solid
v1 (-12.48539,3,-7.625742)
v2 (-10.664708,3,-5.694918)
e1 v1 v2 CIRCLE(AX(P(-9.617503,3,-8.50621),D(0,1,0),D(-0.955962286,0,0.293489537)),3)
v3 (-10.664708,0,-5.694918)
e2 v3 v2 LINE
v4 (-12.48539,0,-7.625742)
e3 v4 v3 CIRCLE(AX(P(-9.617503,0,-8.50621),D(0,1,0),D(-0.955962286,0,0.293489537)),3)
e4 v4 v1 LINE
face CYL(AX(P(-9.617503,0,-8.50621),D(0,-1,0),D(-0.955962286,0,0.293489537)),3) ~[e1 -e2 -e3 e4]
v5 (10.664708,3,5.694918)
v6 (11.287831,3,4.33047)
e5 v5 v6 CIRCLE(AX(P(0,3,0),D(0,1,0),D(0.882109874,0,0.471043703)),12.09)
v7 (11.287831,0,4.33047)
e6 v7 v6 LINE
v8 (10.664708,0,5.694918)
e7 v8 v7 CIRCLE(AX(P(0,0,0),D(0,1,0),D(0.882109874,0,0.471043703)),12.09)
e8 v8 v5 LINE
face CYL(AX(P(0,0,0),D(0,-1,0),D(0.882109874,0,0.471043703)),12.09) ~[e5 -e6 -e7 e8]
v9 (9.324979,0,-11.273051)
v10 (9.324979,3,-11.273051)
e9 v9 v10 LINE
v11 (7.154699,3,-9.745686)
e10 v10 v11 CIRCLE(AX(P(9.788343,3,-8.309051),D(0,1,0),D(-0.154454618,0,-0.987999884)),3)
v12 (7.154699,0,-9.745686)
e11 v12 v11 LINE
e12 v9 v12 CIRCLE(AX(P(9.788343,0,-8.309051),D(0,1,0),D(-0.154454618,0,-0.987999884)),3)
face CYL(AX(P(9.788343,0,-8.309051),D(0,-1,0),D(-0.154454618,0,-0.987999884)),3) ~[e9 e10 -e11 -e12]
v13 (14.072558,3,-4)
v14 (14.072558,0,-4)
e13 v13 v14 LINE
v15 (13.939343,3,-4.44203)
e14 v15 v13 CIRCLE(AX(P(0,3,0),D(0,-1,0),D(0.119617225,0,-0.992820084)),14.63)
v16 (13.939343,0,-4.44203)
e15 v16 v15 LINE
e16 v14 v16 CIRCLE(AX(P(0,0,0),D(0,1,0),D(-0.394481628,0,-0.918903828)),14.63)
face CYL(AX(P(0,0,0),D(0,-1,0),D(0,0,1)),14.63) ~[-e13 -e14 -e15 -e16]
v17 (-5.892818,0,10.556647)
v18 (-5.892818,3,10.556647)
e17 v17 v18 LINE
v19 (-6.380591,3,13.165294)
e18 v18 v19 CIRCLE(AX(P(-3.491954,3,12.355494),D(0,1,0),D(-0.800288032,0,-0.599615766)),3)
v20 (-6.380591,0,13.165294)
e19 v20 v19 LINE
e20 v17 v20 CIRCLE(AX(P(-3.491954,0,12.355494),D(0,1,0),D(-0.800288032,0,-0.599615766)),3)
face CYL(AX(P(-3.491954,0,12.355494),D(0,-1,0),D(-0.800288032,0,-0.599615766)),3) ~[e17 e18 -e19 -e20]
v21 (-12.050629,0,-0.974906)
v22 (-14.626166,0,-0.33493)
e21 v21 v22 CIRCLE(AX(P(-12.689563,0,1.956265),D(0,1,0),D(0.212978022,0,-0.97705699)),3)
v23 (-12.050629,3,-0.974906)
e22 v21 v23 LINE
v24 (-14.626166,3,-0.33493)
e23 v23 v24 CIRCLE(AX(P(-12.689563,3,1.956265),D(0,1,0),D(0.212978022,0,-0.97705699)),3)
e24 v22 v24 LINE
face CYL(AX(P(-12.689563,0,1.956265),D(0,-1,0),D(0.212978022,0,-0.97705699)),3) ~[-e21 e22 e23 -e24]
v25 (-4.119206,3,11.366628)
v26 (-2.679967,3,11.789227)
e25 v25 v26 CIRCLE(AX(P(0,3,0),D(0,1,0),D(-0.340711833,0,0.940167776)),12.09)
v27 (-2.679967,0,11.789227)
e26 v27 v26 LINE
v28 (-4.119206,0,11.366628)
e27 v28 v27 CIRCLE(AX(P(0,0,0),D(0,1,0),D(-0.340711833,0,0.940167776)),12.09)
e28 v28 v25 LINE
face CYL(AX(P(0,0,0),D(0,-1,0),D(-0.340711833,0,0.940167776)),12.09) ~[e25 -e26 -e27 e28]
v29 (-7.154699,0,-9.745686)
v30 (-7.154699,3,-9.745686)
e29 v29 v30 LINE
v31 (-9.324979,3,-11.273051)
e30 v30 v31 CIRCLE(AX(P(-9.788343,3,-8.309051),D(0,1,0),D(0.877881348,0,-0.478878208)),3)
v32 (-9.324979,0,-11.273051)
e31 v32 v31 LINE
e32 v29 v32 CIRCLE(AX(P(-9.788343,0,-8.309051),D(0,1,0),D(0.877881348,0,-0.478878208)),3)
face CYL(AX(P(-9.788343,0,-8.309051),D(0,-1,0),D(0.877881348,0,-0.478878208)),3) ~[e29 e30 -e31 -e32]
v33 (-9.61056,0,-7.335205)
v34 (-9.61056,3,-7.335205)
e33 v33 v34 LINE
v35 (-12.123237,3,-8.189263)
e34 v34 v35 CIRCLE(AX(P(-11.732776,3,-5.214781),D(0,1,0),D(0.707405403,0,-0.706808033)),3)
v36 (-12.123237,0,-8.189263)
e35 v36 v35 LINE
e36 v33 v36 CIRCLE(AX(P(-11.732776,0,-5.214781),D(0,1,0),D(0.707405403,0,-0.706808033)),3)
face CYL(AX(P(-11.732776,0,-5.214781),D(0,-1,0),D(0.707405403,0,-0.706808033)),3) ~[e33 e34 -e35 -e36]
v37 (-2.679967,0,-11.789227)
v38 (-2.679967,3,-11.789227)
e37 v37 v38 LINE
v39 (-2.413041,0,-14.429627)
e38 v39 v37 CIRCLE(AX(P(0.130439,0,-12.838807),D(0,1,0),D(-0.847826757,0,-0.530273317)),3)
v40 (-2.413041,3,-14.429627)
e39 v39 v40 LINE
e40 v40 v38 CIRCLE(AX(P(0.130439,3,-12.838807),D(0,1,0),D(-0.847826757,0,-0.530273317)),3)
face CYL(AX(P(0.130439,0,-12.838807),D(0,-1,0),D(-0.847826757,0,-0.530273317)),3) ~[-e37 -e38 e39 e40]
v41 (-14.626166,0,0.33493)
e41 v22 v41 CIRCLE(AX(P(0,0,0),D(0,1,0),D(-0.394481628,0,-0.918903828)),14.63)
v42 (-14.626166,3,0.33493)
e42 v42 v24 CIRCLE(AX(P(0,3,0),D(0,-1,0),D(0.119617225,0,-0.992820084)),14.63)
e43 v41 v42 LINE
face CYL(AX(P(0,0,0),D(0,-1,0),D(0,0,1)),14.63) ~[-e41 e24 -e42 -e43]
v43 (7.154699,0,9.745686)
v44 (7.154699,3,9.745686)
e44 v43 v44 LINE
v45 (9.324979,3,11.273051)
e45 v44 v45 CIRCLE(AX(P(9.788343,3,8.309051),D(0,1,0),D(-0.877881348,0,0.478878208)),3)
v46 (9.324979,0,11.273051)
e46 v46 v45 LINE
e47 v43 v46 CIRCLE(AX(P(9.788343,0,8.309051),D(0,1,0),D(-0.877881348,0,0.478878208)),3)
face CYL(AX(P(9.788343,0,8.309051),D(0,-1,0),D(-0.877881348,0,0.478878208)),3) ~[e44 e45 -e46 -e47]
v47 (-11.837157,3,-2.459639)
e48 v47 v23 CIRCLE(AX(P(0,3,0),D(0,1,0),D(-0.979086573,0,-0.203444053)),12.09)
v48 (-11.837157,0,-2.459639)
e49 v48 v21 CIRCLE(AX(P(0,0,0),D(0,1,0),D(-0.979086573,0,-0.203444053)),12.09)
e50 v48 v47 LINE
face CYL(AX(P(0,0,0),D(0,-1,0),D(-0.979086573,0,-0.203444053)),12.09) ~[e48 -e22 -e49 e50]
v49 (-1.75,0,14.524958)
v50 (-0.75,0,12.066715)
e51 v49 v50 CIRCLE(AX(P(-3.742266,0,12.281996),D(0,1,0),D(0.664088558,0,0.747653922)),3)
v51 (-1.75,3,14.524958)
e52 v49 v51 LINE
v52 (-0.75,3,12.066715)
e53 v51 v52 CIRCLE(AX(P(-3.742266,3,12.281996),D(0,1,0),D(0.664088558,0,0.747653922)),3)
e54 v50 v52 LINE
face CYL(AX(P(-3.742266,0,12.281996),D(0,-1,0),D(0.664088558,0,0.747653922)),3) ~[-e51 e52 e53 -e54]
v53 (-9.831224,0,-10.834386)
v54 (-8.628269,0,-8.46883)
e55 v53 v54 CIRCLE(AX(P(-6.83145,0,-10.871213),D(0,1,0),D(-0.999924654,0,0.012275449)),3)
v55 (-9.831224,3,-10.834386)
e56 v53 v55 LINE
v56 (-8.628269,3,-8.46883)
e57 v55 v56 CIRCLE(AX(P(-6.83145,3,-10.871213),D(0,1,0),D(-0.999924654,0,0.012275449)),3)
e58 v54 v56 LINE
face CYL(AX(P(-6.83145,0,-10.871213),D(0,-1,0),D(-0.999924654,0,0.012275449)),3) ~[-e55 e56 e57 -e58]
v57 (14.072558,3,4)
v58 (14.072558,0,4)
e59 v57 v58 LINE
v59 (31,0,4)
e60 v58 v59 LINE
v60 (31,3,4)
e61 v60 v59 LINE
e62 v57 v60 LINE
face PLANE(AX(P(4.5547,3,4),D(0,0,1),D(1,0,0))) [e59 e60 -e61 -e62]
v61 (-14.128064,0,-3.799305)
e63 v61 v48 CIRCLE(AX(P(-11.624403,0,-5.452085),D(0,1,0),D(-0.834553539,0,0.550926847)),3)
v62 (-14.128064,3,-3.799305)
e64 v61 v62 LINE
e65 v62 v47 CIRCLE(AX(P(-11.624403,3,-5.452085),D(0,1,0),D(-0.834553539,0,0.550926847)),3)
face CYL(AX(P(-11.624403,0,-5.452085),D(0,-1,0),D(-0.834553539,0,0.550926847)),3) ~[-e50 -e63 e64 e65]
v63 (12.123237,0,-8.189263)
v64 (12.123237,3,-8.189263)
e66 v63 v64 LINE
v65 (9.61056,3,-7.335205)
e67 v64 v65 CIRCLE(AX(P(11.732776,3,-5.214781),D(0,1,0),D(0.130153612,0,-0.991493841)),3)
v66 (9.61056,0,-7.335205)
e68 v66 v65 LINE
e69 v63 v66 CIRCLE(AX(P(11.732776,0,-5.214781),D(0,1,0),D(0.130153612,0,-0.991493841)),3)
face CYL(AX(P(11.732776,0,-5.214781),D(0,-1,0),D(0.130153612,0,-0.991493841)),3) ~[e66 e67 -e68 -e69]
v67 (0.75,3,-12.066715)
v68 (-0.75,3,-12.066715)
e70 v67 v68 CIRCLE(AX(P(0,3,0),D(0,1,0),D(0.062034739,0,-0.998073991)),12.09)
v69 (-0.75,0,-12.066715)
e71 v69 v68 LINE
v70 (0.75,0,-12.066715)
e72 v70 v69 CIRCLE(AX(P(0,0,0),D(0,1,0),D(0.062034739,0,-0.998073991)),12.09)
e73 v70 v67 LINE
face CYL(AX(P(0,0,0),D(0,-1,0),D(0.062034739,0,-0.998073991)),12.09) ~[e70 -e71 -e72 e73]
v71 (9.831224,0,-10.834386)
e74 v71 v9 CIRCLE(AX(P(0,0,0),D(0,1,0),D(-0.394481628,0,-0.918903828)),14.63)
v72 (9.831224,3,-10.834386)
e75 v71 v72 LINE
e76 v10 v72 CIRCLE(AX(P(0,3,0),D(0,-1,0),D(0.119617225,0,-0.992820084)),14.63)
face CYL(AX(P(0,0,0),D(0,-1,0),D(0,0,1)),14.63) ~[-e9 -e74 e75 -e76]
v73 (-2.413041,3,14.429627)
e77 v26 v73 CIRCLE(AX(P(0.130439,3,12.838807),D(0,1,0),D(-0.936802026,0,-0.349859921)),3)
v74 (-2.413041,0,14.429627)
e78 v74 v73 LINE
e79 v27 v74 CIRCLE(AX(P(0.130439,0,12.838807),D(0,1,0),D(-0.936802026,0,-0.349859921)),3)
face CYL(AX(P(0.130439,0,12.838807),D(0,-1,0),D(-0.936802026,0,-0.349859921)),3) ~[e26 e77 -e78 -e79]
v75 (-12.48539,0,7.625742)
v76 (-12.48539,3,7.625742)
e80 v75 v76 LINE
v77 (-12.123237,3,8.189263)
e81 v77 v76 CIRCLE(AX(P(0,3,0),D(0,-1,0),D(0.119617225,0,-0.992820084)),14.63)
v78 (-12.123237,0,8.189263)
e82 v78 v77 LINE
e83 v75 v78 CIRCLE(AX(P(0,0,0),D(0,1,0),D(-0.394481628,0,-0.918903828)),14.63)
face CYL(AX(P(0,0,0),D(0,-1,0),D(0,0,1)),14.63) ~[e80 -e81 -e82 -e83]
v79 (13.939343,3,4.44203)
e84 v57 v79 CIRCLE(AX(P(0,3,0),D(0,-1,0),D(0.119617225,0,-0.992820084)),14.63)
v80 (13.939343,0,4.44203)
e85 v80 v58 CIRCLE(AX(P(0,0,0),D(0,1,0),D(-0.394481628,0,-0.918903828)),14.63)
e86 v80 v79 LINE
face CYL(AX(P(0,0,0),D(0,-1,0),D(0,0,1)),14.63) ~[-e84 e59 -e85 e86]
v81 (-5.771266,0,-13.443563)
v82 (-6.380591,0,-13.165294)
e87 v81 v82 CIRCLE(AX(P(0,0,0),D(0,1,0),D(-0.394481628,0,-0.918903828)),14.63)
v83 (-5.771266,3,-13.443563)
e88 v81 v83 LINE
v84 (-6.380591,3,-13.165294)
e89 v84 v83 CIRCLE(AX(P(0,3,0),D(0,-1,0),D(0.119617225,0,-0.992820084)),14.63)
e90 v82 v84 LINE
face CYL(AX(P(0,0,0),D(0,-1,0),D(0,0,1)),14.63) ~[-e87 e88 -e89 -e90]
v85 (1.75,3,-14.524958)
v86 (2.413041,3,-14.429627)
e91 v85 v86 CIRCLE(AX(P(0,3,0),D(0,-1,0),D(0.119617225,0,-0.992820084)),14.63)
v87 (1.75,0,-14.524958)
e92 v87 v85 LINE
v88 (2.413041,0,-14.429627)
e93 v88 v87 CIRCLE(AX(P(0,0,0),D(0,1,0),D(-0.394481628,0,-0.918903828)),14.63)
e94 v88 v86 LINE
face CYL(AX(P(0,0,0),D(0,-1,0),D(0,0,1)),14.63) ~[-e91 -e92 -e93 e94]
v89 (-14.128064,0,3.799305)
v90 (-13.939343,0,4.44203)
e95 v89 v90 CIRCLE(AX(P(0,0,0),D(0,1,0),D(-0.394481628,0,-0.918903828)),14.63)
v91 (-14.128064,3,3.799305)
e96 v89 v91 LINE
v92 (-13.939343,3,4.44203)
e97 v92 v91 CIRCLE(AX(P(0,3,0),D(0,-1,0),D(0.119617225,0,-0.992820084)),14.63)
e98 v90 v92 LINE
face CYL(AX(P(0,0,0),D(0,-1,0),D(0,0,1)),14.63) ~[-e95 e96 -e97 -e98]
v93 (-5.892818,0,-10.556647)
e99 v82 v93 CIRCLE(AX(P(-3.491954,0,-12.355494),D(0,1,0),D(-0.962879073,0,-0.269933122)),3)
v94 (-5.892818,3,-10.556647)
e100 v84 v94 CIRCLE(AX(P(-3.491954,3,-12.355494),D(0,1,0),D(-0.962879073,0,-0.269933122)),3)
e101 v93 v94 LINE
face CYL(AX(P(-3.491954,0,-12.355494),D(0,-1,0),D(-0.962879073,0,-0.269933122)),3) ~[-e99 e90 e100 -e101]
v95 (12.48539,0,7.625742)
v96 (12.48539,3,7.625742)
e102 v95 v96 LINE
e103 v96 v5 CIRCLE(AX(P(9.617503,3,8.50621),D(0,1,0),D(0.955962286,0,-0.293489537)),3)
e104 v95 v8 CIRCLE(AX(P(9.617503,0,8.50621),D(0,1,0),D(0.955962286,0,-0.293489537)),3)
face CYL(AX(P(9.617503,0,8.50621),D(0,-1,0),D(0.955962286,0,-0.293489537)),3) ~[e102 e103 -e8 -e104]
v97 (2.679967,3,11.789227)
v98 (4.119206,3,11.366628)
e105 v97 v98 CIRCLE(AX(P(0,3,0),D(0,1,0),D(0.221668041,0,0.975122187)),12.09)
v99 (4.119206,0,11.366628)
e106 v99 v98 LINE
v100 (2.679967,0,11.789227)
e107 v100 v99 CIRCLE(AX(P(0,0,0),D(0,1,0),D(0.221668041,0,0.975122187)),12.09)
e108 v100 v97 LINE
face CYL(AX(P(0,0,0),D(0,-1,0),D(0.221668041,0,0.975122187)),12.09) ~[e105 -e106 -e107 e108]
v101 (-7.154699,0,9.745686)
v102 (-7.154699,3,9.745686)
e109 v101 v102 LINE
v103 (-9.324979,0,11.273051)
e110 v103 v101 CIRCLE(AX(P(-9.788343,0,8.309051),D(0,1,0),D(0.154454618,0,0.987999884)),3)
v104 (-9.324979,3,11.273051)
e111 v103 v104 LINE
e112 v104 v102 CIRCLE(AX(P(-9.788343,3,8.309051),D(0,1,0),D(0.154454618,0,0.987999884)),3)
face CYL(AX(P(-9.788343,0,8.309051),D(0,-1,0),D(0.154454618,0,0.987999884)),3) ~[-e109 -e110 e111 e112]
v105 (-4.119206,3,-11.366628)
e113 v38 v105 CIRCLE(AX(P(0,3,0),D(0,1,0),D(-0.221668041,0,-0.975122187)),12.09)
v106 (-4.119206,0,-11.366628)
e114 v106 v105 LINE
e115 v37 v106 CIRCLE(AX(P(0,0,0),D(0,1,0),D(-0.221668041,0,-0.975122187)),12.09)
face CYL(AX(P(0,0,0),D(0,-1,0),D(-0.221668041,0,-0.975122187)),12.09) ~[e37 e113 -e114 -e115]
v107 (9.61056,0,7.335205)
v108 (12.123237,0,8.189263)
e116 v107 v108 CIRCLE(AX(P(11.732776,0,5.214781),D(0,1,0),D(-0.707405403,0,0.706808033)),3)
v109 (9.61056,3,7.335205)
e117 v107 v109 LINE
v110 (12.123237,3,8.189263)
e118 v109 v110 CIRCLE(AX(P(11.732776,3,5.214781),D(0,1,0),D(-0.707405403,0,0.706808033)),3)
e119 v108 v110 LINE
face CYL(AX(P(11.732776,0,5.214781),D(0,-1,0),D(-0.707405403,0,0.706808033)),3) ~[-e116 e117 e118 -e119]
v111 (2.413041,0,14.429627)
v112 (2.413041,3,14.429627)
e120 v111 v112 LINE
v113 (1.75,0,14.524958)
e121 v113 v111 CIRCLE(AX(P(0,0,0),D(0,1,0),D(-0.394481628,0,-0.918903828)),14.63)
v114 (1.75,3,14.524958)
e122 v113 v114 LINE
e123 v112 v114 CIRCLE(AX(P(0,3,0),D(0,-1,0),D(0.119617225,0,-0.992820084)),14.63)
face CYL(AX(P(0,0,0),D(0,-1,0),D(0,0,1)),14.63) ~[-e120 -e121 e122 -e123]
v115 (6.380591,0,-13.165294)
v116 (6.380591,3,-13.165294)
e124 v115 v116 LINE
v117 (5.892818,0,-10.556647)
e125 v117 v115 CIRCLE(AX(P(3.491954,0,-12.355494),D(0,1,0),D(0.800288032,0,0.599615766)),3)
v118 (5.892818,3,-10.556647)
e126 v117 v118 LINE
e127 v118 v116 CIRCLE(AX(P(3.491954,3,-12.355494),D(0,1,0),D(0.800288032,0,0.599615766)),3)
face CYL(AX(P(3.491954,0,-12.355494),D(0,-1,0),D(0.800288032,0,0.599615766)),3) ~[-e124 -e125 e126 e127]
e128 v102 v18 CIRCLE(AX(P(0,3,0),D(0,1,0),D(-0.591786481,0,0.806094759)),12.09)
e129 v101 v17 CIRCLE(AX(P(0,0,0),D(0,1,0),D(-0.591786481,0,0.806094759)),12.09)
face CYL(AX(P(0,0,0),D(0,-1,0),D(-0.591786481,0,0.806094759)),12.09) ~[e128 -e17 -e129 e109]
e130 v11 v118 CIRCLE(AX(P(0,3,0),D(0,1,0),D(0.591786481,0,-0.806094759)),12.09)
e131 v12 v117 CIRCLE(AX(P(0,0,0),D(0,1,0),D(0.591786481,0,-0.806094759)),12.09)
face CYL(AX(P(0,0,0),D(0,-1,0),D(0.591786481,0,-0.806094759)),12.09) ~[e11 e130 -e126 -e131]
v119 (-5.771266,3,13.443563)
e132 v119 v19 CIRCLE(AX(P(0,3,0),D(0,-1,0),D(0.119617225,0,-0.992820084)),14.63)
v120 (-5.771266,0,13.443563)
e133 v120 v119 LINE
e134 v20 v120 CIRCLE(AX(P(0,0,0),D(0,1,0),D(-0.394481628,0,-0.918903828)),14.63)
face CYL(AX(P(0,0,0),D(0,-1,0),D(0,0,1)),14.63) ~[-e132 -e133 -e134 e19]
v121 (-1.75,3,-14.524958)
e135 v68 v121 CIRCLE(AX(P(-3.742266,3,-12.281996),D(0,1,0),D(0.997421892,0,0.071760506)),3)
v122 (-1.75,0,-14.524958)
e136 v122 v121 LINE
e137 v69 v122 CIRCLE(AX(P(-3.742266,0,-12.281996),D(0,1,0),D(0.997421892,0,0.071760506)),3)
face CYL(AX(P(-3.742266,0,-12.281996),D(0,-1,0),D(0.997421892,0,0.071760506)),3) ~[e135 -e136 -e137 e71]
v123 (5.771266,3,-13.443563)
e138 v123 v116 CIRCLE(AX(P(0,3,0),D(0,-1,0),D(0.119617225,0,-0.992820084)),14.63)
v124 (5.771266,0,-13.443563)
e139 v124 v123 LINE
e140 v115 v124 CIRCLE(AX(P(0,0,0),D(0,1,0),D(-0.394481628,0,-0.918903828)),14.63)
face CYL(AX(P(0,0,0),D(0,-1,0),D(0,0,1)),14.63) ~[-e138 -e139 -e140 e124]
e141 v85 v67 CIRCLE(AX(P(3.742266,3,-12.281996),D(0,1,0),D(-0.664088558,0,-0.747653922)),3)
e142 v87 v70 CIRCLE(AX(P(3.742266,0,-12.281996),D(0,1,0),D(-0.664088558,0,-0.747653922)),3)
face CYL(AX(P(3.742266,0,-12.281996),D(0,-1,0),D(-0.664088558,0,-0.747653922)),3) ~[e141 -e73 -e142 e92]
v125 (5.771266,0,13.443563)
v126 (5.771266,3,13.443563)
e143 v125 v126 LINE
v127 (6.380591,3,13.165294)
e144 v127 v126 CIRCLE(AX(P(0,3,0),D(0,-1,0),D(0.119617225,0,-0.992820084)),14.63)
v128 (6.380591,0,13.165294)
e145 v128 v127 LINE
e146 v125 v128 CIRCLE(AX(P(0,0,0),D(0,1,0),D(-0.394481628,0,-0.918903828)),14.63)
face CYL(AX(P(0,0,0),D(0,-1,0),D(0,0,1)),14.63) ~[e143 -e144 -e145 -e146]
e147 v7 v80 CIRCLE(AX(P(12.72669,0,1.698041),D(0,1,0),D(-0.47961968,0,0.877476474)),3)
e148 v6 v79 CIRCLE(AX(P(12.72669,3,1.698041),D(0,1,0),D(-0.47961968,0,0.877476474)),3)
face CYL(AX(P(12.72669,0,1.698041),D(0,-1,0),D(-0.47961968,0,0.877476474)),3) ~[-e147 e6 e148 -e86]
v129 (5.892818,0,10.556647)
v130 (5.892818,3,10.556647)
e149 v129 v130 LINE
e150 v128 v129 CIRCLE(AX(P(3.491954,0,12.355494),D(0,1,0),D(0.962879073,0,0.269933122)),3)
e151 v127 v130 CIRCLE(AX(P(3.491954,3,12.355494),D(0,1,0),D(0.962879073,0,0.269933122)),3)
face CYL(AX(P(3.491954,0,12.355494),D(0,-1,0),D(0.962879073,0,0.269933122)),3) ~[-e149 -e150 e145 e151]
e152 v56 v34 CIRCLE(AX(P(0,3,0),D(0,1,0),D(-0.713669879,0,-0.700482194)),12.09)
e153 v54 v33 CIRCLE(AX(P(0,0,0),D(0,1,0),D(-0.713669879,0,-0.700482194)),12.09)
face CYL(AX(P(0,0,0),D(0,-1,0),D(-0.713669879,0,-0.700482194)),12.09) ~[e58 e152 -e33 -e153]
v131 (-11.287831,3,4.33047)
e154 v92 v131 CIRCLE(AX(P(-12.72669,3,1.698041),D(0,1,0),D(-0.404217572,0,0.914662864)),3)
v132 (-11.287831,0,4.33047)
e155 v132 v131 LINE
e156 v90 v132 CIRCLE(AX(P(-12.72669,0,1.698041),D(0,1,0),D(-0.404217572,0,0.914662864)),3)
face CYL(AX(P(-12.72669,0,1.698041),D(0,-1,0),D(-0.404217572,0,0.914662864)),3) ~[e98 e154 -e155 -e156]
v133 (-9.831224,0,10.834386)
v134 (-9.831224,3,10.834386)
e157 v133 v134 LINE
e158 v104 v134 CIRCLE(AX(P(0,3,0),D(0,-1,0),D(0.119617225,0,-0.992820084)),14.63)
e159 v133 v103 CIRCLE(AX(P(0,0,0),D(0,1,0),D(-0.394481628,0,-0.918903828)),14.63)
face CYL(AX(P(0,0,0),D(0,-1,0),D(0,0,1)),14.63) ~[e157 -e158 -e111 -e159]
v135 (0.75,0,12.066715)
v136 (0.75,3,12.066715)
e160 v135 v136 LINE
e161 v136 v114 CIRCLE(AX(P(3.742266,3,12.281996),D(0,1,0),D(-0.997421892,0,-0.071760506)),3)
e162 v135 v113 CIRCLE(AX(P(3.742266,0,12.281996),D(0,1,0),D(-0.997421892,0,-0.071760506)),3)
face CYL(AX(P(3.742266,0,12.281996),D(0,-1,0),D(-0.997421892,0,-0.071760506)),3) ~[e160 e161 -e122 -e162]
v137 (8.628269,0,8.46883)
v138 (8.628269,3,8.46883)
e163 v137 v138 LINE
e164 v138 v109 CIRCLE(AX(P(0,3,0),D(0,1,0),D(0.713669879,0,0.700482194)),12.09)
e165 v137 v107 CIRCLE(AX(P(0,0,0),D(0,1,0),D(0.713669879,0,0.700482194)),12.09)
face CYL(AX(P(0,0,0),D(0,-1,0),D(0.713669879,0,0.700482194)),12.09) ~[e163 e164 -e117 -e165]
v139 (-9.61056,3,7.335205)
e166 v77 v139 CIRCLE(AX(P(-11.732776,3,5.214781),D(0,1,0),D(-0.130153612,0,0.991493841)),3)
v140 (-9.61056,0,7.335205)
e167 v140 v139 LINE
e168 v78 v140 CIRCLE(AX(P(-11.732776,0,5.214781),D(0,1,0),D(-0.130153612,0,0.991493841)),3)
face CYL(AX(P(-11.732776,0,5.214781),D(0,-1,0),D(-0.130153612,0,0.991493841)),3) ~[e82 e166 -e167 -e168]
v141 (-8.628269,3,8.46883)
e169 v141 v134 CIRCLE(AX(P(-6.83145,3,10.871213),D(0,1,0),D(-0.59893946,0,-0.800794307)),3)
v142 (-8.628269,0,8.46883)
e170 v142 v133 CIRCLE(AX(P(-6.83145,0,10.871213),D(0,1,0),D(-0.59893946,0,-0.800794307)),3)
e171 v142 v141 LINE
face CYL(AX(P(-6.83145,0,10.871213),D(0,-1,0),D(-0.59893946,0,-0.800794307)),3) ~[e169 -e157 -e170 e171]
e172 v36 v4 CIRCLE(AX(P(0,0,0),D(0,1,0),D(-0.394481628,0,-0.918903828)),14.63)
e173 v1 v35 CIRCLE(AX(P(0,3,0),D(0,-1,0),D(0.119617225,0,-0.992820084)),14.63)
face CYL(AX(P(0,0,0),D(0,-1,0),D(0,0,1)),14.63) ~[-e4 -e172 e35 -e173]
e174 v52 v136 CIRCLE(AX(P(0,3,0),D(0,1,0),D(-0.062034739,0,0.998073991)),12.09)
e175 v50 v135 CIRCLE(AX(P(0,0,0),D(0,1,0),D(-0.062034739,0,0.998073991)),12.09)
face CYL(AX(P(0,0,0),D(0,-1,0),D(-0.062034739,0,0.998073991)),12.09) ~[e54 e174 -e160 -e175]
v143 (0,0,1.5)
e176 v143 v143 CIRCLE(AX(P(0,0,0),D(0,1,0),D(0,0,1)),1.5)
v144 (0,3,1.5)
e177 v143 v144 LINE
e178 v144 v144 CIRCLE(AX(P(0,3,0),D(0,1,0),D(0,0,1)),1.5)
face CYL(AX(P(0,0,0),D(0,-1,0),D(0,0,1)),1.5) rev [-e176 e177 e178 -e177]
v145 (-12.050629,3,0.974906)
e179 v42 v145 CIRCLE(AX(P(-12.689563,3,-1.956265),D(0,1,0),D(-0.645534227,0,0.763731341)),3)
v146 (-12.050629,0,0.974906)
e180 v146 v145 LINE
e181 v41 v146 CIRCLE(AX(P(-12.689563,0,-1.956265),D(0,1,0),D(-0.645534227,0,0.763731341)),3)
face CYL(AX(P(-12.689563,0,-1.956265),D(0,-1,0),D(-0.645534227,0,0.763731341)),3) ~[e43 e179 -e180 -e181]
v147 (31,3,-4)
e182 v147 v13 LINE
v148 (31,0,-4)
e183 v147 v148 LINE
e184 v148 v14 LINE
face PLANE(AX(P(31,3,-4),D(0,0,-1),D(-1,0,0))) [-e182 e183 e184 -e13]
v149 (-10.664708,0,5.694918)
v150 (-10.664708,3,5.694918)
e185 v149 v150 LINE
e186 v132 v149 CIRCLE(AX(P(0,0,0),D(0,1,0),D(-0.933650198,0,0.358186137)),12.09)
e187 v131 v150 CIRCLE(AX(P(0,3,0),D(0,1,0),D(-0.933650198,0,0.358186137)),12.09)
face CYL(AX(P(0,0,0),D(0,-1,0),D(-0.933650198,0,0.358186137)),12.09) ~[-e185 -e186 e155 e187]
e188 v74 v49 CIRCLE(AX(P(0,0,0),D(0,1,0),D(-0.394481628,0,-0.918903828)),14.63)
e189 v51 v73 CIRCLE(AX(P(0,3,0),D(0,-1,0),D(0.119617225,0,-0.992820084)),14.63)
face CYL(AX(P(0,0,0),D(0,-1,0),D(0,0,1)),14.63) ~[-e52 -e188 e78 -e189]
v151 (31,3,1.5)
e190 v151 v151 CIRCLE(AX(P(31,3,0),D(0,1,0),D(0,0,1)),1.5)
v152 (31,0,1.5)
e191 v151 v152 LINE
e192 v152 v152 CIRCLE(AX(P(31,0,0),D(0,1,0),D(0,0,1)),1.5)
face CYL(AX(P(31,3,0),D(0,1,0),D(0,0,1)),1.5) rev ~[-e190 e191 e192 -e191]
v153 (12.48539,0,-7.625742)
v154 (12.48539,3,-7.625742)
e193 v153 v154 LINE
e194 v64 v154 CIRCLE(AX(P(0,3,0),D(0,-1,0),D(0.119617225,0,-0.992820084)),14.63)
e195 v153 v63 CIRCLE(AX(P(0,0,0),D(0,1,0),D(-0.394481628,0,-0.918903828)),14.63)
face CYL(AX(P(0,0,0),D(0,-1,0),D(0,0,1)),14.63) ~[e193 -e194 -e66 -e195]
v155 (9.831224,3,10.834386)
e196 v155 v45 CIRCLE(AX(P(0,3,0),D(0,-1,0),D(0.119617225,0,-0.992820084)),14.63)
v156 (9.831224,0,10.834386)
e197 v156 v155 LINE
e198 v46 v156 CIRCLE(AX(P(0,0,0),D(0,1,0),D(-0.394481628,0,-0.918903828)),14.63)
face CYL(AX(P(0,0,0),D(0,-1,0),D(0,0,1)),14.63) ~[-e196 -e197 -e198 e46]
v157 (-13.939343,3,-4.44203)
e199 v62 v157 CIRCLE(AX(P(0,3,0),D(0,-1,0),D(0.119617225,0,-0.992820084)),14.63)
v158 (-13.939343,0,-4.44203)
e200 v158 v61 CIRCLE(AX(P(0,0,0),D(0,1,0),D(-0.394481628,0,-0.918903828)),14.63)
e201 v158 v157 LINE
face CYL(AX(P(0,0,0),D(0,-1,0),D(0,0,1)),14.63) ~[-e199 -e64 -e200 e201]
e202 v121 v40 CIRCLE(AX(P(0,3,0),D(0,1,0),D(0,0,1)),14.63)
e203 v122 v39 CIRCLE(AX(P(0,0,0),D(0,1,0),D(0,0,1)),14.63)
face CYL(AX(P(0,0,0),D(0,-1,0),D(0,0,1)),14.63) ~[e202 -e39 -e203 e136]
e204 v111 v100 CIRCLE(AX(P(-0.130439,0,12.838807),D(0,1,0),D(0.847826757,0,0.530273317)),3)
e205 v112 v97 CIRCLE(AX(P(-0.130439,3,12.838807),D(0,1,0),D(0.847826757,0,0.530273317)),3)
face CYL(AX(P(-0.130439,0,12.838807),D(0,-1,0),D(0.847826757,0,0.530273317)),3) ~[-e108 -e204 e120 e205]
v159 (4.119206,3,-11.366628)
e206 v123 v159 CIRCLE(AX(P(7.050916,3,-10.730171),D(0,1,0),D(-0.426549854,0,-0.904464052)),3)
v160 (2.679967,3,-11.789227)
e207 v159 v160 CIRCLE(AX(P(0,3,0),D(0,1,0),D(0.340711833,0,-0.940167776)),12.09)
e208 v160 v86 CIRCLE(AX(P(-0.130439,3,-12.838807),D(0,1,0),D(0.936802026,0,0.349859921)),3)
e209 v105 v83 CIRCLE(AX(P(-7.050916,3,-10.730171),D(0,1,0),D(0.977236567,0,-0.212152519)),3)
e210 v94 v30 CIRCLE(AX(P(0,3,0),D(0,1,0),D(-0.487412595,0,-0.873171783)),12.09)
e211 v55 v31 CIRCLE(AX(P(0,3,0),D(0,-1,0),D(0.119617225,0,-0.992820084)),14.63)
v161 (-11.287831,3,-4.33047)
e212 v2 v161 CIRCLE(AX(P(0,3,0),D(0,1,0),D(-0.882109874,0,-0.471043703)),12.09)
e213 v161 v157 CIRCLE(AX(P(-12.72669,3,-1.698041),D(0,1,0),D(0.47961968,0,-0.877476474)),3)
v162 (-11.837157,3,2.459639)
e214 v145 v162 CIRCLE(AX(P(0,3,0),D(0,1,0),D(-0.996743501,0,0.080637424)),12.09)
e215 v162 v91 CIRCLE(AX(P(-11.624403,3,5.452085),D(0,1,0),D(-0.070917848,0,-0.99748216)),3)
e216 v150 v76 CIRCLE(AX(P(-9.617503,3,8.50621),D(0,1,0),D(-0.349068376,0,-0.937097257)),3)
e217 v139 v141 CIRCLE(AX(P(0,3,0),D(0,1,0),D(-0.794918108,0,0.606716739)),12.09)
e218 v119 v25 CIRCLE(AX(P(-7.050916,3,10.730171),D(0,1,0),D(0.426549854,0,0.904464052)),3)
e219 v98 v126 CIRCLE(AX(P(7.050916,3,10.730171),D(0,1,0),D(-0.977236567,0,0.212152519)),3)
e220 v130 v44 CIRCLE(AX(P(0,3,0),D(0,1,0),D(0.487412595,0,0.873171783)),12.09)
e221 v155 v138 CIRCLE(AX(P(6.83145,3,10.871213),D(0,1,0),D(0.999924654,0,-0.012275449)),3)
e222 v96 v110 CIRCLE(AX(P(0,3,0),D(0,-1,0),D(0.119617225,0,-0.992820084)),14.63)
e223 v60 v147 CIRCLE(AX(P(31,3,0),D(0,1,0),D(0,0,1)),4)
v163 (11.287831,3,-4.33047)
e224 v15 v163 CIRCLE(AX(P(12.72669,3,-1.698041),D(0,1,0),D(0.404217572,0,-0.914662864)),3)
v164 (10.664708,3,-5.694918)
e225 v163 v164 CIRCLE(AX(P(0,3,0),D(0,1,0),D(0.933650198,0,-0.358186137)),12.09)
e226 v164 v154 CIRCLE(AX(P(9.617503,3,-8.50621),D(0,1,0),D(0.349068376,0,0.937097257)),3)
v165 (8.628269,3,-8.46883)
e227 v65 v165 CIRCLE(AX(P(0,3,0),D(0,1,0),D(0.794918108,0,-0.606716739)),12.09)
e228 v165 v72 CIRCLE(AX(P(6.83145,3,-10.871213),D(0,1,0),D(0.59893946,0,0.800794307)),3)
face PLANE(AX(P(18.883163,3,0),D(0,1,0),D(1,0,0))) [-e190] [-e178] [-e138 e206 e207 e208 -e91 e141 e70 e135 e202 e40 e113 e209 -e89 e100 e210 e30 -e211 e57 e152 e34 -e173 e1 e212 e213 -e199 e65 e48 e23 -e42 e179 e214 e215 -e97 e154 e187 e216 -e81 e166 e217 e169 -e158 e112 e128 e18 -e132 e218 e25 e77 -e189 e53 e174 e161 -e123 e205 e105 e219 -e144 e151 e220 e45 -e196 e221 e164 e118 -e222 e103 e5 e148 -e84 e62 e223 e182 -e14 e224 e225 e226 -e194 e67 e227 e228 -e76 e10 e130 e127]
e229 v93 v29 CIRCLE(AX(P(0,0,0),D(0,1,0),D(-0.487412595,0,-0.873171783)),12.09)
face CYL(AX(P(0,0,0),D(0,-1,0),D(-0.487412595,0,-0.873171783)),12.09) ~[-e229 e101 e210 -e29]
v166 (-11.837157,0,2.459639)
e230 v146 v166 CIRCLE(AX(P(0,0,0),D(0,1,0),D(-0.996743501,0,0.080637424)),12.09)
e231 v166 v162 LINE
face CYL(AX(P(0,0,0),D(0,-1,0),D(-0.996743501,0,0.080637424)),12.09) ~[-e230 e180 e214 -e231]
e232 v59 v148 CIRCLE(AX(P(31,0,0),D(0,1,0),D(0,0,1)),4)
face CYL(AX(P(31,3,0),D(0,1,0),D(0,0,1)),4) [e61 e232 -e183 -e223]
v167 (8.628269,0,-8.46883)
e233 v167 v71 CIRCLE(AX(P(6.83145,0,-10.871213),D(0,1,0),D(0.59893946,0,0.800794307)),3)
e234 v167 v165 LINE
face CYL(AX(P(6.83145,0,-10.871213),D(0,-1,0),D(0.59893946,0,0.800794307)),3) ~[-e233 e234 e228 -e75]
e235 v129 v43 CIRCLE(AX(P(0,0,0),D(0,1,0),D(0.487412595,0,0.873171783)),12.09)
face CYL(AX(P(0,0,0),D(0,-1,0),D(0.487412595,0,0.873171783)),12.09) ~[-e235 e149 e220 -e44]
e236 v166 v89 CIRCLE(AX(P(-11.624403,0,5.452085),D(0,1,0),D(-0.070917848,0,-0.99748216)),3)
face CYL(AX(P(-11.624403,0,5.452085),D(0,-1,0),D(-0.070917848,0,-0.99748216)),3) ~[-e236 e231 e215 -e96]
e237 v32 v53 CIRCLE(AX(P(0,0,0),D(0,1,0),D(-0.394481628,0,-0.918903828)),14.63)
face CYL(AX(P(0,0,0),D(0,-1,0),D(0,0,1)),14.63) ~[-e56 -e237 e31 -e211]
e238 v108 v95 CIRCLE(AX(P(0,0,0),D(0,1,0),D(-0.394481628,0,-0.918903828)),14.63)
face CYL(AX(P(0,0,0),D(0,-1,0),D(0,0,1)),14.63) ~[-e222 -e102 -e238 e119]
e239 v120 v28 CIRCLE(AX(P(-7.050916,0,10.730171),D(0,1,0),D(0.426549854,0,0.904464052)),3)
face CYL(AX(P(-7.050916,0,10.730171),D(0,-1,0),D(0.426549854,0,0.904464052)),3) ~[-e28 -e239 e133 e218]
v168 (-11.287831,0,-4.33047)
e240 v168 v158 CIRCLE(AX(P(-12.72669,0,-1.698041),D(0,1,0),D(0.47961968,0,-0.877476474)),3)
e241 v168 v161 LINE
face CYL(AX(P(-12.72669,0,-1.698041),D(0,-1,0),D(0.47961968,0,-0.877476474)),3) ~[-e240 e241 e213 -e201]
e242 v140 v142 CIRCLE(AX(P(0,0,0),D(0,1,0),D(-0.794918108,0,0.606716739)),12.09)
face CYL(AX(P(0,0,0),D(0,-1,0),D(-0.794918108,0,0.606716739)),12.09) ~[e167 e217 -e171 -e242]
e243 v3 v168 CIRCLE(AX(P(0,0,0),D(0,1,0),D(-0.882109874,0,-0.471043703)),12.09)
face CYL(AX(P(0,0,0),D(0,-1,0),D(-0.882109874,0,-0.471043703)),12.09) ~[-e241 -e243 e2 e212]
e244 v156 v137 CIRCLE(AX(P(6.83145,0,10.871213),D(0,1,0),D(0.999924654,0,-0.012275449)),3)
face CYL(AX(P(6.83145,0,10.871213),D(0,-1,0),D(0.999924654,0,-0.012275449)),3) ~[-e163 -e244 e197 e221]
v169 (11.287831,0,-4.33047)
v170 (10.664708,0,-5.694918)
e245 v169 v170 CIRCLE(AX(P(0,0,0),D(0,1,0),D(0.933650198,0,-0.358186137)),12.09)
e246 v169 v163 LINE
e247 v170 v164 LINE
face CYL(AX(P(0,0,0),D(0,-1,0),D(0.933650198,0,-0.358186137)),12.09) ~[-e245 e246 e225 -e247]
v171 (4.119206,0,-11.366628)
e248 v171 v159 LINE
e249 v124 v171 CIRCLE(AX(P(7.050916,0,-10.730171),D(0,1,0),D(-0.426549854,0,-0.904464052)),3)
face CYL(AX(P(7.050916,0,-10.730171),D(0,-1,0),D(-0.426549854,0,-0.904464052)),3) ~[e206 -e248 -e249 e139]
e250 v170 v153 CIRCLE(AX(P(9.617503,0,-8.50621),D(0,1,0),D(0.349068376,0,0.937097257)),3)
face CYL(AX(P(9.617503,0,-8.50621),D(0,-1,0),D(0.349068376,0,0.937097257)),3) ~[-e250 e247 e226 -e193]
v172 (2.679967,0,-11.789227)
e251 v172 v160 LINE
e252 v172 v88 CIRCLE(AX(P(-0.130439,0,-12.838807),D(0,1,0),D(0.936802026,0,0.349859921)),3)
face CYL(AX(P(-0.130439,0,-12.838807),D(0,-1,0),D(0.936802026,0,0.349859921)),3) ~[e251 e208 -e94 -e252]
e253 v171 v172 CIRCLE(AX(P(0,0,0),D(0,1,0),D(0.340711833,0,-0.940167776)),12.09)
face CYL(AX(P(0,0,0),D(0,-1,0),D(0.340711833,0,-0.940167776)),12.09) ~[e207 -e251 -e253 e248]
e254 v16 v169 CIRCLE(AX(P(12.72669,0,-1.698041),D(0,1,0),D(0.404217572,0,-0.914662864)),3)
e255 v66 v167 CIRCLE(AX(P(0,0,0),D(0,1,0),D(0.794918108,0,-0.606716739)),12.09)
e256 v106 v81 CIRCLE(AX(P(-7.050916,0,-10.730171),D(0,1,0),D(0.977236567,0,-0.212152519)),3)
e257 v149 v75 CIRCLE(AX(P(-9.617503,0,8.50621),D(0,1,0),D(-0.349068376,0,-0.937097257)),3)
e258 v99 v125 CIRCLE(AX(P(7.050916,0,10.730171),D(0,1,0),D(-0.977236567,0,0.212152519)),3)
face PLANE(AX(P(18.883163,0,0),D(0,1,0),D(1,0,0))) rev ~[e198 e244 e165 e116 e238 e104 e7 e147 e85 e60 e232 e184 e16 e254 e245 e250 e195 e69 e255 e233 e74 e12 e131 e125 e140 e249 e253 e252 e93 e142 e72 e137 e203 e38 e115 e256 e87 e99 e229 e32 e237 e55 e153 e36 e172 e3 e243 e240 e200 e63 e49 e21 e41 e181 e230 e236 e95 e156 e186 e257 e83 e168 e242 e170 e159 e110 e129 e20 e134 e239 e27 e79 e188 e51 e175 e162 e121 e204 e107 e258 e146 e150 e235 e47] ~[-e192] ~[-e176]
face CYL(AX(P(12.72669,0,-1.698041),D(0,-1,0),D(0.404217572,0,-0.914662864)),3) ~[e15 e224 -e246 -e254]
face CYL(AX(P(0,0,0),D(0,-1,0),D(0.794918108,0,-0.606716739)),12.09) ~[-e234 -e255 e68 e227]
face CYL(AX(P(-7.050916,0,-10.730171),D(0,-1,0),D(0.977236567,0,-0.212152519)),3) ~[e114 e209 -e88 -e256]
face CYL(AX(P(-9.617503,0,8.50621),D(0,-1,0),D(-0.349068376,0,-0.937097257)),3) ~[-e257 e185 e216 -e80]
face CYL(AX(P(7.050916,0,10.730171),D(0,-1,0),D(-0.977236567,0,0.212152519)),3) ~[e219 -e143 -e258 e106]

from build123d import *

# Parameters (mm, degrees)
IZIM2_R                     = 14.63
IZIM2_R_2                   = 1.5
Y_KSEKLIK_EKSTR_ZYON1_DEPTH = 3
KES_EKSTR_ZYON1_START       = -3
KES_EKSTR_ZYON1_DEPTH       = 3
DAIRESEL_KAPLAMA1_COUNT     = 22
IZIM4_R                     = 1.5
Y_KSEKLIK_EKSTR_ZYON2_DEPTH = 3


with BuildPart() as part:
    # Çizim2 → Yükseklik-Ekstrüzyon1 (new body)
    with BuildSketch(Plane(origin=(0, 0, 0), x_dir=(1, 0, 0), z_dir=(0, 1, 0))):
        with Locations(Location((0, 0, 0), (0, 0, 270))):
            Circle(IZIM2_R)
        with Locations(Location((0, 0, 0), (0, 0, 270))):
            Circle(IZIM2_R_2, mode=Mode.SUBTRACT)
    extrude(amount=Y_KSEKLIK_EKSTR_ZYON1_DEPTH)

    # Çizim3 → Kes-Ekstrüzyon1 (cut)
    with BuildSketch(Plane(origin=(0, 3, 0), x_dir=(1, 0, 0), z_dir=(0, 1, 0)).offset(KES_EKSTR_ZYON1_START)):
        with BuildLine():
            ThreePointArc((0.75, 12.066714549), (0, 12.09), (-0.75, 12.066714549))
            ThreePointArc((-0.75, 12.066714549), (-0.963393925, 13.412425983), (-1.75, 14.524957831))
            ThreePointArc((-1.75, 14.524957831), (0, 14.63), (1.75, 14.524957831))
            ThreePointArc((1.75, 14.524957831), (0.963393925, 13.412425983), (0.75, 12.066714549))
        make_face()
    kes_ekstr_zyon1 = extrude(amount=KES_EKSTR_ZYON1_DEPTH, mode=Mode.SUBTRACT)

    # Dairesel Kaplama1: Kes-Ekstrüzyon1 ×22 about axis
    dairesel_kaplama1_axis = Axis((0, 0, 0), (0, 1, 0))
    for i in range(1, DAIRESEL_KAPLAMA1_COUNT):
        add(kes_ekstr_zyon1.rotate(dairesel_kaplama1_axis, i * 360 / DAIRESEL_KAPLAMA1_COUNT), mode=Mode.SUBTRACT)

    # Çizim4 → Yükseklik-Ekstrüzyon2 (add)
    with BuildSketch(Plane(origin=(0, 3, 0), x_dir=(1, 0, 0), z_dir=(0, 1, 0))):
        with BuildLine():
            Line((31, 4), (4.554699728, 4))
            Line((4.554699728, 4), (4.554699728, -4))
            Line((4.554699728, -4), (31, -4))
            ThreePointArc((31, -4), (35, 0), (31, 4))
        make_face()
        with Locations(Location((31, 0, 0), (0, 0, 270))):
            Circle(IZIM4_R, mode=Mode.SUBTRACT)
    extrude(amount=-Y_KSEKLIK_EKSTR_ZYON2_DEPTH)


solid = part.part
